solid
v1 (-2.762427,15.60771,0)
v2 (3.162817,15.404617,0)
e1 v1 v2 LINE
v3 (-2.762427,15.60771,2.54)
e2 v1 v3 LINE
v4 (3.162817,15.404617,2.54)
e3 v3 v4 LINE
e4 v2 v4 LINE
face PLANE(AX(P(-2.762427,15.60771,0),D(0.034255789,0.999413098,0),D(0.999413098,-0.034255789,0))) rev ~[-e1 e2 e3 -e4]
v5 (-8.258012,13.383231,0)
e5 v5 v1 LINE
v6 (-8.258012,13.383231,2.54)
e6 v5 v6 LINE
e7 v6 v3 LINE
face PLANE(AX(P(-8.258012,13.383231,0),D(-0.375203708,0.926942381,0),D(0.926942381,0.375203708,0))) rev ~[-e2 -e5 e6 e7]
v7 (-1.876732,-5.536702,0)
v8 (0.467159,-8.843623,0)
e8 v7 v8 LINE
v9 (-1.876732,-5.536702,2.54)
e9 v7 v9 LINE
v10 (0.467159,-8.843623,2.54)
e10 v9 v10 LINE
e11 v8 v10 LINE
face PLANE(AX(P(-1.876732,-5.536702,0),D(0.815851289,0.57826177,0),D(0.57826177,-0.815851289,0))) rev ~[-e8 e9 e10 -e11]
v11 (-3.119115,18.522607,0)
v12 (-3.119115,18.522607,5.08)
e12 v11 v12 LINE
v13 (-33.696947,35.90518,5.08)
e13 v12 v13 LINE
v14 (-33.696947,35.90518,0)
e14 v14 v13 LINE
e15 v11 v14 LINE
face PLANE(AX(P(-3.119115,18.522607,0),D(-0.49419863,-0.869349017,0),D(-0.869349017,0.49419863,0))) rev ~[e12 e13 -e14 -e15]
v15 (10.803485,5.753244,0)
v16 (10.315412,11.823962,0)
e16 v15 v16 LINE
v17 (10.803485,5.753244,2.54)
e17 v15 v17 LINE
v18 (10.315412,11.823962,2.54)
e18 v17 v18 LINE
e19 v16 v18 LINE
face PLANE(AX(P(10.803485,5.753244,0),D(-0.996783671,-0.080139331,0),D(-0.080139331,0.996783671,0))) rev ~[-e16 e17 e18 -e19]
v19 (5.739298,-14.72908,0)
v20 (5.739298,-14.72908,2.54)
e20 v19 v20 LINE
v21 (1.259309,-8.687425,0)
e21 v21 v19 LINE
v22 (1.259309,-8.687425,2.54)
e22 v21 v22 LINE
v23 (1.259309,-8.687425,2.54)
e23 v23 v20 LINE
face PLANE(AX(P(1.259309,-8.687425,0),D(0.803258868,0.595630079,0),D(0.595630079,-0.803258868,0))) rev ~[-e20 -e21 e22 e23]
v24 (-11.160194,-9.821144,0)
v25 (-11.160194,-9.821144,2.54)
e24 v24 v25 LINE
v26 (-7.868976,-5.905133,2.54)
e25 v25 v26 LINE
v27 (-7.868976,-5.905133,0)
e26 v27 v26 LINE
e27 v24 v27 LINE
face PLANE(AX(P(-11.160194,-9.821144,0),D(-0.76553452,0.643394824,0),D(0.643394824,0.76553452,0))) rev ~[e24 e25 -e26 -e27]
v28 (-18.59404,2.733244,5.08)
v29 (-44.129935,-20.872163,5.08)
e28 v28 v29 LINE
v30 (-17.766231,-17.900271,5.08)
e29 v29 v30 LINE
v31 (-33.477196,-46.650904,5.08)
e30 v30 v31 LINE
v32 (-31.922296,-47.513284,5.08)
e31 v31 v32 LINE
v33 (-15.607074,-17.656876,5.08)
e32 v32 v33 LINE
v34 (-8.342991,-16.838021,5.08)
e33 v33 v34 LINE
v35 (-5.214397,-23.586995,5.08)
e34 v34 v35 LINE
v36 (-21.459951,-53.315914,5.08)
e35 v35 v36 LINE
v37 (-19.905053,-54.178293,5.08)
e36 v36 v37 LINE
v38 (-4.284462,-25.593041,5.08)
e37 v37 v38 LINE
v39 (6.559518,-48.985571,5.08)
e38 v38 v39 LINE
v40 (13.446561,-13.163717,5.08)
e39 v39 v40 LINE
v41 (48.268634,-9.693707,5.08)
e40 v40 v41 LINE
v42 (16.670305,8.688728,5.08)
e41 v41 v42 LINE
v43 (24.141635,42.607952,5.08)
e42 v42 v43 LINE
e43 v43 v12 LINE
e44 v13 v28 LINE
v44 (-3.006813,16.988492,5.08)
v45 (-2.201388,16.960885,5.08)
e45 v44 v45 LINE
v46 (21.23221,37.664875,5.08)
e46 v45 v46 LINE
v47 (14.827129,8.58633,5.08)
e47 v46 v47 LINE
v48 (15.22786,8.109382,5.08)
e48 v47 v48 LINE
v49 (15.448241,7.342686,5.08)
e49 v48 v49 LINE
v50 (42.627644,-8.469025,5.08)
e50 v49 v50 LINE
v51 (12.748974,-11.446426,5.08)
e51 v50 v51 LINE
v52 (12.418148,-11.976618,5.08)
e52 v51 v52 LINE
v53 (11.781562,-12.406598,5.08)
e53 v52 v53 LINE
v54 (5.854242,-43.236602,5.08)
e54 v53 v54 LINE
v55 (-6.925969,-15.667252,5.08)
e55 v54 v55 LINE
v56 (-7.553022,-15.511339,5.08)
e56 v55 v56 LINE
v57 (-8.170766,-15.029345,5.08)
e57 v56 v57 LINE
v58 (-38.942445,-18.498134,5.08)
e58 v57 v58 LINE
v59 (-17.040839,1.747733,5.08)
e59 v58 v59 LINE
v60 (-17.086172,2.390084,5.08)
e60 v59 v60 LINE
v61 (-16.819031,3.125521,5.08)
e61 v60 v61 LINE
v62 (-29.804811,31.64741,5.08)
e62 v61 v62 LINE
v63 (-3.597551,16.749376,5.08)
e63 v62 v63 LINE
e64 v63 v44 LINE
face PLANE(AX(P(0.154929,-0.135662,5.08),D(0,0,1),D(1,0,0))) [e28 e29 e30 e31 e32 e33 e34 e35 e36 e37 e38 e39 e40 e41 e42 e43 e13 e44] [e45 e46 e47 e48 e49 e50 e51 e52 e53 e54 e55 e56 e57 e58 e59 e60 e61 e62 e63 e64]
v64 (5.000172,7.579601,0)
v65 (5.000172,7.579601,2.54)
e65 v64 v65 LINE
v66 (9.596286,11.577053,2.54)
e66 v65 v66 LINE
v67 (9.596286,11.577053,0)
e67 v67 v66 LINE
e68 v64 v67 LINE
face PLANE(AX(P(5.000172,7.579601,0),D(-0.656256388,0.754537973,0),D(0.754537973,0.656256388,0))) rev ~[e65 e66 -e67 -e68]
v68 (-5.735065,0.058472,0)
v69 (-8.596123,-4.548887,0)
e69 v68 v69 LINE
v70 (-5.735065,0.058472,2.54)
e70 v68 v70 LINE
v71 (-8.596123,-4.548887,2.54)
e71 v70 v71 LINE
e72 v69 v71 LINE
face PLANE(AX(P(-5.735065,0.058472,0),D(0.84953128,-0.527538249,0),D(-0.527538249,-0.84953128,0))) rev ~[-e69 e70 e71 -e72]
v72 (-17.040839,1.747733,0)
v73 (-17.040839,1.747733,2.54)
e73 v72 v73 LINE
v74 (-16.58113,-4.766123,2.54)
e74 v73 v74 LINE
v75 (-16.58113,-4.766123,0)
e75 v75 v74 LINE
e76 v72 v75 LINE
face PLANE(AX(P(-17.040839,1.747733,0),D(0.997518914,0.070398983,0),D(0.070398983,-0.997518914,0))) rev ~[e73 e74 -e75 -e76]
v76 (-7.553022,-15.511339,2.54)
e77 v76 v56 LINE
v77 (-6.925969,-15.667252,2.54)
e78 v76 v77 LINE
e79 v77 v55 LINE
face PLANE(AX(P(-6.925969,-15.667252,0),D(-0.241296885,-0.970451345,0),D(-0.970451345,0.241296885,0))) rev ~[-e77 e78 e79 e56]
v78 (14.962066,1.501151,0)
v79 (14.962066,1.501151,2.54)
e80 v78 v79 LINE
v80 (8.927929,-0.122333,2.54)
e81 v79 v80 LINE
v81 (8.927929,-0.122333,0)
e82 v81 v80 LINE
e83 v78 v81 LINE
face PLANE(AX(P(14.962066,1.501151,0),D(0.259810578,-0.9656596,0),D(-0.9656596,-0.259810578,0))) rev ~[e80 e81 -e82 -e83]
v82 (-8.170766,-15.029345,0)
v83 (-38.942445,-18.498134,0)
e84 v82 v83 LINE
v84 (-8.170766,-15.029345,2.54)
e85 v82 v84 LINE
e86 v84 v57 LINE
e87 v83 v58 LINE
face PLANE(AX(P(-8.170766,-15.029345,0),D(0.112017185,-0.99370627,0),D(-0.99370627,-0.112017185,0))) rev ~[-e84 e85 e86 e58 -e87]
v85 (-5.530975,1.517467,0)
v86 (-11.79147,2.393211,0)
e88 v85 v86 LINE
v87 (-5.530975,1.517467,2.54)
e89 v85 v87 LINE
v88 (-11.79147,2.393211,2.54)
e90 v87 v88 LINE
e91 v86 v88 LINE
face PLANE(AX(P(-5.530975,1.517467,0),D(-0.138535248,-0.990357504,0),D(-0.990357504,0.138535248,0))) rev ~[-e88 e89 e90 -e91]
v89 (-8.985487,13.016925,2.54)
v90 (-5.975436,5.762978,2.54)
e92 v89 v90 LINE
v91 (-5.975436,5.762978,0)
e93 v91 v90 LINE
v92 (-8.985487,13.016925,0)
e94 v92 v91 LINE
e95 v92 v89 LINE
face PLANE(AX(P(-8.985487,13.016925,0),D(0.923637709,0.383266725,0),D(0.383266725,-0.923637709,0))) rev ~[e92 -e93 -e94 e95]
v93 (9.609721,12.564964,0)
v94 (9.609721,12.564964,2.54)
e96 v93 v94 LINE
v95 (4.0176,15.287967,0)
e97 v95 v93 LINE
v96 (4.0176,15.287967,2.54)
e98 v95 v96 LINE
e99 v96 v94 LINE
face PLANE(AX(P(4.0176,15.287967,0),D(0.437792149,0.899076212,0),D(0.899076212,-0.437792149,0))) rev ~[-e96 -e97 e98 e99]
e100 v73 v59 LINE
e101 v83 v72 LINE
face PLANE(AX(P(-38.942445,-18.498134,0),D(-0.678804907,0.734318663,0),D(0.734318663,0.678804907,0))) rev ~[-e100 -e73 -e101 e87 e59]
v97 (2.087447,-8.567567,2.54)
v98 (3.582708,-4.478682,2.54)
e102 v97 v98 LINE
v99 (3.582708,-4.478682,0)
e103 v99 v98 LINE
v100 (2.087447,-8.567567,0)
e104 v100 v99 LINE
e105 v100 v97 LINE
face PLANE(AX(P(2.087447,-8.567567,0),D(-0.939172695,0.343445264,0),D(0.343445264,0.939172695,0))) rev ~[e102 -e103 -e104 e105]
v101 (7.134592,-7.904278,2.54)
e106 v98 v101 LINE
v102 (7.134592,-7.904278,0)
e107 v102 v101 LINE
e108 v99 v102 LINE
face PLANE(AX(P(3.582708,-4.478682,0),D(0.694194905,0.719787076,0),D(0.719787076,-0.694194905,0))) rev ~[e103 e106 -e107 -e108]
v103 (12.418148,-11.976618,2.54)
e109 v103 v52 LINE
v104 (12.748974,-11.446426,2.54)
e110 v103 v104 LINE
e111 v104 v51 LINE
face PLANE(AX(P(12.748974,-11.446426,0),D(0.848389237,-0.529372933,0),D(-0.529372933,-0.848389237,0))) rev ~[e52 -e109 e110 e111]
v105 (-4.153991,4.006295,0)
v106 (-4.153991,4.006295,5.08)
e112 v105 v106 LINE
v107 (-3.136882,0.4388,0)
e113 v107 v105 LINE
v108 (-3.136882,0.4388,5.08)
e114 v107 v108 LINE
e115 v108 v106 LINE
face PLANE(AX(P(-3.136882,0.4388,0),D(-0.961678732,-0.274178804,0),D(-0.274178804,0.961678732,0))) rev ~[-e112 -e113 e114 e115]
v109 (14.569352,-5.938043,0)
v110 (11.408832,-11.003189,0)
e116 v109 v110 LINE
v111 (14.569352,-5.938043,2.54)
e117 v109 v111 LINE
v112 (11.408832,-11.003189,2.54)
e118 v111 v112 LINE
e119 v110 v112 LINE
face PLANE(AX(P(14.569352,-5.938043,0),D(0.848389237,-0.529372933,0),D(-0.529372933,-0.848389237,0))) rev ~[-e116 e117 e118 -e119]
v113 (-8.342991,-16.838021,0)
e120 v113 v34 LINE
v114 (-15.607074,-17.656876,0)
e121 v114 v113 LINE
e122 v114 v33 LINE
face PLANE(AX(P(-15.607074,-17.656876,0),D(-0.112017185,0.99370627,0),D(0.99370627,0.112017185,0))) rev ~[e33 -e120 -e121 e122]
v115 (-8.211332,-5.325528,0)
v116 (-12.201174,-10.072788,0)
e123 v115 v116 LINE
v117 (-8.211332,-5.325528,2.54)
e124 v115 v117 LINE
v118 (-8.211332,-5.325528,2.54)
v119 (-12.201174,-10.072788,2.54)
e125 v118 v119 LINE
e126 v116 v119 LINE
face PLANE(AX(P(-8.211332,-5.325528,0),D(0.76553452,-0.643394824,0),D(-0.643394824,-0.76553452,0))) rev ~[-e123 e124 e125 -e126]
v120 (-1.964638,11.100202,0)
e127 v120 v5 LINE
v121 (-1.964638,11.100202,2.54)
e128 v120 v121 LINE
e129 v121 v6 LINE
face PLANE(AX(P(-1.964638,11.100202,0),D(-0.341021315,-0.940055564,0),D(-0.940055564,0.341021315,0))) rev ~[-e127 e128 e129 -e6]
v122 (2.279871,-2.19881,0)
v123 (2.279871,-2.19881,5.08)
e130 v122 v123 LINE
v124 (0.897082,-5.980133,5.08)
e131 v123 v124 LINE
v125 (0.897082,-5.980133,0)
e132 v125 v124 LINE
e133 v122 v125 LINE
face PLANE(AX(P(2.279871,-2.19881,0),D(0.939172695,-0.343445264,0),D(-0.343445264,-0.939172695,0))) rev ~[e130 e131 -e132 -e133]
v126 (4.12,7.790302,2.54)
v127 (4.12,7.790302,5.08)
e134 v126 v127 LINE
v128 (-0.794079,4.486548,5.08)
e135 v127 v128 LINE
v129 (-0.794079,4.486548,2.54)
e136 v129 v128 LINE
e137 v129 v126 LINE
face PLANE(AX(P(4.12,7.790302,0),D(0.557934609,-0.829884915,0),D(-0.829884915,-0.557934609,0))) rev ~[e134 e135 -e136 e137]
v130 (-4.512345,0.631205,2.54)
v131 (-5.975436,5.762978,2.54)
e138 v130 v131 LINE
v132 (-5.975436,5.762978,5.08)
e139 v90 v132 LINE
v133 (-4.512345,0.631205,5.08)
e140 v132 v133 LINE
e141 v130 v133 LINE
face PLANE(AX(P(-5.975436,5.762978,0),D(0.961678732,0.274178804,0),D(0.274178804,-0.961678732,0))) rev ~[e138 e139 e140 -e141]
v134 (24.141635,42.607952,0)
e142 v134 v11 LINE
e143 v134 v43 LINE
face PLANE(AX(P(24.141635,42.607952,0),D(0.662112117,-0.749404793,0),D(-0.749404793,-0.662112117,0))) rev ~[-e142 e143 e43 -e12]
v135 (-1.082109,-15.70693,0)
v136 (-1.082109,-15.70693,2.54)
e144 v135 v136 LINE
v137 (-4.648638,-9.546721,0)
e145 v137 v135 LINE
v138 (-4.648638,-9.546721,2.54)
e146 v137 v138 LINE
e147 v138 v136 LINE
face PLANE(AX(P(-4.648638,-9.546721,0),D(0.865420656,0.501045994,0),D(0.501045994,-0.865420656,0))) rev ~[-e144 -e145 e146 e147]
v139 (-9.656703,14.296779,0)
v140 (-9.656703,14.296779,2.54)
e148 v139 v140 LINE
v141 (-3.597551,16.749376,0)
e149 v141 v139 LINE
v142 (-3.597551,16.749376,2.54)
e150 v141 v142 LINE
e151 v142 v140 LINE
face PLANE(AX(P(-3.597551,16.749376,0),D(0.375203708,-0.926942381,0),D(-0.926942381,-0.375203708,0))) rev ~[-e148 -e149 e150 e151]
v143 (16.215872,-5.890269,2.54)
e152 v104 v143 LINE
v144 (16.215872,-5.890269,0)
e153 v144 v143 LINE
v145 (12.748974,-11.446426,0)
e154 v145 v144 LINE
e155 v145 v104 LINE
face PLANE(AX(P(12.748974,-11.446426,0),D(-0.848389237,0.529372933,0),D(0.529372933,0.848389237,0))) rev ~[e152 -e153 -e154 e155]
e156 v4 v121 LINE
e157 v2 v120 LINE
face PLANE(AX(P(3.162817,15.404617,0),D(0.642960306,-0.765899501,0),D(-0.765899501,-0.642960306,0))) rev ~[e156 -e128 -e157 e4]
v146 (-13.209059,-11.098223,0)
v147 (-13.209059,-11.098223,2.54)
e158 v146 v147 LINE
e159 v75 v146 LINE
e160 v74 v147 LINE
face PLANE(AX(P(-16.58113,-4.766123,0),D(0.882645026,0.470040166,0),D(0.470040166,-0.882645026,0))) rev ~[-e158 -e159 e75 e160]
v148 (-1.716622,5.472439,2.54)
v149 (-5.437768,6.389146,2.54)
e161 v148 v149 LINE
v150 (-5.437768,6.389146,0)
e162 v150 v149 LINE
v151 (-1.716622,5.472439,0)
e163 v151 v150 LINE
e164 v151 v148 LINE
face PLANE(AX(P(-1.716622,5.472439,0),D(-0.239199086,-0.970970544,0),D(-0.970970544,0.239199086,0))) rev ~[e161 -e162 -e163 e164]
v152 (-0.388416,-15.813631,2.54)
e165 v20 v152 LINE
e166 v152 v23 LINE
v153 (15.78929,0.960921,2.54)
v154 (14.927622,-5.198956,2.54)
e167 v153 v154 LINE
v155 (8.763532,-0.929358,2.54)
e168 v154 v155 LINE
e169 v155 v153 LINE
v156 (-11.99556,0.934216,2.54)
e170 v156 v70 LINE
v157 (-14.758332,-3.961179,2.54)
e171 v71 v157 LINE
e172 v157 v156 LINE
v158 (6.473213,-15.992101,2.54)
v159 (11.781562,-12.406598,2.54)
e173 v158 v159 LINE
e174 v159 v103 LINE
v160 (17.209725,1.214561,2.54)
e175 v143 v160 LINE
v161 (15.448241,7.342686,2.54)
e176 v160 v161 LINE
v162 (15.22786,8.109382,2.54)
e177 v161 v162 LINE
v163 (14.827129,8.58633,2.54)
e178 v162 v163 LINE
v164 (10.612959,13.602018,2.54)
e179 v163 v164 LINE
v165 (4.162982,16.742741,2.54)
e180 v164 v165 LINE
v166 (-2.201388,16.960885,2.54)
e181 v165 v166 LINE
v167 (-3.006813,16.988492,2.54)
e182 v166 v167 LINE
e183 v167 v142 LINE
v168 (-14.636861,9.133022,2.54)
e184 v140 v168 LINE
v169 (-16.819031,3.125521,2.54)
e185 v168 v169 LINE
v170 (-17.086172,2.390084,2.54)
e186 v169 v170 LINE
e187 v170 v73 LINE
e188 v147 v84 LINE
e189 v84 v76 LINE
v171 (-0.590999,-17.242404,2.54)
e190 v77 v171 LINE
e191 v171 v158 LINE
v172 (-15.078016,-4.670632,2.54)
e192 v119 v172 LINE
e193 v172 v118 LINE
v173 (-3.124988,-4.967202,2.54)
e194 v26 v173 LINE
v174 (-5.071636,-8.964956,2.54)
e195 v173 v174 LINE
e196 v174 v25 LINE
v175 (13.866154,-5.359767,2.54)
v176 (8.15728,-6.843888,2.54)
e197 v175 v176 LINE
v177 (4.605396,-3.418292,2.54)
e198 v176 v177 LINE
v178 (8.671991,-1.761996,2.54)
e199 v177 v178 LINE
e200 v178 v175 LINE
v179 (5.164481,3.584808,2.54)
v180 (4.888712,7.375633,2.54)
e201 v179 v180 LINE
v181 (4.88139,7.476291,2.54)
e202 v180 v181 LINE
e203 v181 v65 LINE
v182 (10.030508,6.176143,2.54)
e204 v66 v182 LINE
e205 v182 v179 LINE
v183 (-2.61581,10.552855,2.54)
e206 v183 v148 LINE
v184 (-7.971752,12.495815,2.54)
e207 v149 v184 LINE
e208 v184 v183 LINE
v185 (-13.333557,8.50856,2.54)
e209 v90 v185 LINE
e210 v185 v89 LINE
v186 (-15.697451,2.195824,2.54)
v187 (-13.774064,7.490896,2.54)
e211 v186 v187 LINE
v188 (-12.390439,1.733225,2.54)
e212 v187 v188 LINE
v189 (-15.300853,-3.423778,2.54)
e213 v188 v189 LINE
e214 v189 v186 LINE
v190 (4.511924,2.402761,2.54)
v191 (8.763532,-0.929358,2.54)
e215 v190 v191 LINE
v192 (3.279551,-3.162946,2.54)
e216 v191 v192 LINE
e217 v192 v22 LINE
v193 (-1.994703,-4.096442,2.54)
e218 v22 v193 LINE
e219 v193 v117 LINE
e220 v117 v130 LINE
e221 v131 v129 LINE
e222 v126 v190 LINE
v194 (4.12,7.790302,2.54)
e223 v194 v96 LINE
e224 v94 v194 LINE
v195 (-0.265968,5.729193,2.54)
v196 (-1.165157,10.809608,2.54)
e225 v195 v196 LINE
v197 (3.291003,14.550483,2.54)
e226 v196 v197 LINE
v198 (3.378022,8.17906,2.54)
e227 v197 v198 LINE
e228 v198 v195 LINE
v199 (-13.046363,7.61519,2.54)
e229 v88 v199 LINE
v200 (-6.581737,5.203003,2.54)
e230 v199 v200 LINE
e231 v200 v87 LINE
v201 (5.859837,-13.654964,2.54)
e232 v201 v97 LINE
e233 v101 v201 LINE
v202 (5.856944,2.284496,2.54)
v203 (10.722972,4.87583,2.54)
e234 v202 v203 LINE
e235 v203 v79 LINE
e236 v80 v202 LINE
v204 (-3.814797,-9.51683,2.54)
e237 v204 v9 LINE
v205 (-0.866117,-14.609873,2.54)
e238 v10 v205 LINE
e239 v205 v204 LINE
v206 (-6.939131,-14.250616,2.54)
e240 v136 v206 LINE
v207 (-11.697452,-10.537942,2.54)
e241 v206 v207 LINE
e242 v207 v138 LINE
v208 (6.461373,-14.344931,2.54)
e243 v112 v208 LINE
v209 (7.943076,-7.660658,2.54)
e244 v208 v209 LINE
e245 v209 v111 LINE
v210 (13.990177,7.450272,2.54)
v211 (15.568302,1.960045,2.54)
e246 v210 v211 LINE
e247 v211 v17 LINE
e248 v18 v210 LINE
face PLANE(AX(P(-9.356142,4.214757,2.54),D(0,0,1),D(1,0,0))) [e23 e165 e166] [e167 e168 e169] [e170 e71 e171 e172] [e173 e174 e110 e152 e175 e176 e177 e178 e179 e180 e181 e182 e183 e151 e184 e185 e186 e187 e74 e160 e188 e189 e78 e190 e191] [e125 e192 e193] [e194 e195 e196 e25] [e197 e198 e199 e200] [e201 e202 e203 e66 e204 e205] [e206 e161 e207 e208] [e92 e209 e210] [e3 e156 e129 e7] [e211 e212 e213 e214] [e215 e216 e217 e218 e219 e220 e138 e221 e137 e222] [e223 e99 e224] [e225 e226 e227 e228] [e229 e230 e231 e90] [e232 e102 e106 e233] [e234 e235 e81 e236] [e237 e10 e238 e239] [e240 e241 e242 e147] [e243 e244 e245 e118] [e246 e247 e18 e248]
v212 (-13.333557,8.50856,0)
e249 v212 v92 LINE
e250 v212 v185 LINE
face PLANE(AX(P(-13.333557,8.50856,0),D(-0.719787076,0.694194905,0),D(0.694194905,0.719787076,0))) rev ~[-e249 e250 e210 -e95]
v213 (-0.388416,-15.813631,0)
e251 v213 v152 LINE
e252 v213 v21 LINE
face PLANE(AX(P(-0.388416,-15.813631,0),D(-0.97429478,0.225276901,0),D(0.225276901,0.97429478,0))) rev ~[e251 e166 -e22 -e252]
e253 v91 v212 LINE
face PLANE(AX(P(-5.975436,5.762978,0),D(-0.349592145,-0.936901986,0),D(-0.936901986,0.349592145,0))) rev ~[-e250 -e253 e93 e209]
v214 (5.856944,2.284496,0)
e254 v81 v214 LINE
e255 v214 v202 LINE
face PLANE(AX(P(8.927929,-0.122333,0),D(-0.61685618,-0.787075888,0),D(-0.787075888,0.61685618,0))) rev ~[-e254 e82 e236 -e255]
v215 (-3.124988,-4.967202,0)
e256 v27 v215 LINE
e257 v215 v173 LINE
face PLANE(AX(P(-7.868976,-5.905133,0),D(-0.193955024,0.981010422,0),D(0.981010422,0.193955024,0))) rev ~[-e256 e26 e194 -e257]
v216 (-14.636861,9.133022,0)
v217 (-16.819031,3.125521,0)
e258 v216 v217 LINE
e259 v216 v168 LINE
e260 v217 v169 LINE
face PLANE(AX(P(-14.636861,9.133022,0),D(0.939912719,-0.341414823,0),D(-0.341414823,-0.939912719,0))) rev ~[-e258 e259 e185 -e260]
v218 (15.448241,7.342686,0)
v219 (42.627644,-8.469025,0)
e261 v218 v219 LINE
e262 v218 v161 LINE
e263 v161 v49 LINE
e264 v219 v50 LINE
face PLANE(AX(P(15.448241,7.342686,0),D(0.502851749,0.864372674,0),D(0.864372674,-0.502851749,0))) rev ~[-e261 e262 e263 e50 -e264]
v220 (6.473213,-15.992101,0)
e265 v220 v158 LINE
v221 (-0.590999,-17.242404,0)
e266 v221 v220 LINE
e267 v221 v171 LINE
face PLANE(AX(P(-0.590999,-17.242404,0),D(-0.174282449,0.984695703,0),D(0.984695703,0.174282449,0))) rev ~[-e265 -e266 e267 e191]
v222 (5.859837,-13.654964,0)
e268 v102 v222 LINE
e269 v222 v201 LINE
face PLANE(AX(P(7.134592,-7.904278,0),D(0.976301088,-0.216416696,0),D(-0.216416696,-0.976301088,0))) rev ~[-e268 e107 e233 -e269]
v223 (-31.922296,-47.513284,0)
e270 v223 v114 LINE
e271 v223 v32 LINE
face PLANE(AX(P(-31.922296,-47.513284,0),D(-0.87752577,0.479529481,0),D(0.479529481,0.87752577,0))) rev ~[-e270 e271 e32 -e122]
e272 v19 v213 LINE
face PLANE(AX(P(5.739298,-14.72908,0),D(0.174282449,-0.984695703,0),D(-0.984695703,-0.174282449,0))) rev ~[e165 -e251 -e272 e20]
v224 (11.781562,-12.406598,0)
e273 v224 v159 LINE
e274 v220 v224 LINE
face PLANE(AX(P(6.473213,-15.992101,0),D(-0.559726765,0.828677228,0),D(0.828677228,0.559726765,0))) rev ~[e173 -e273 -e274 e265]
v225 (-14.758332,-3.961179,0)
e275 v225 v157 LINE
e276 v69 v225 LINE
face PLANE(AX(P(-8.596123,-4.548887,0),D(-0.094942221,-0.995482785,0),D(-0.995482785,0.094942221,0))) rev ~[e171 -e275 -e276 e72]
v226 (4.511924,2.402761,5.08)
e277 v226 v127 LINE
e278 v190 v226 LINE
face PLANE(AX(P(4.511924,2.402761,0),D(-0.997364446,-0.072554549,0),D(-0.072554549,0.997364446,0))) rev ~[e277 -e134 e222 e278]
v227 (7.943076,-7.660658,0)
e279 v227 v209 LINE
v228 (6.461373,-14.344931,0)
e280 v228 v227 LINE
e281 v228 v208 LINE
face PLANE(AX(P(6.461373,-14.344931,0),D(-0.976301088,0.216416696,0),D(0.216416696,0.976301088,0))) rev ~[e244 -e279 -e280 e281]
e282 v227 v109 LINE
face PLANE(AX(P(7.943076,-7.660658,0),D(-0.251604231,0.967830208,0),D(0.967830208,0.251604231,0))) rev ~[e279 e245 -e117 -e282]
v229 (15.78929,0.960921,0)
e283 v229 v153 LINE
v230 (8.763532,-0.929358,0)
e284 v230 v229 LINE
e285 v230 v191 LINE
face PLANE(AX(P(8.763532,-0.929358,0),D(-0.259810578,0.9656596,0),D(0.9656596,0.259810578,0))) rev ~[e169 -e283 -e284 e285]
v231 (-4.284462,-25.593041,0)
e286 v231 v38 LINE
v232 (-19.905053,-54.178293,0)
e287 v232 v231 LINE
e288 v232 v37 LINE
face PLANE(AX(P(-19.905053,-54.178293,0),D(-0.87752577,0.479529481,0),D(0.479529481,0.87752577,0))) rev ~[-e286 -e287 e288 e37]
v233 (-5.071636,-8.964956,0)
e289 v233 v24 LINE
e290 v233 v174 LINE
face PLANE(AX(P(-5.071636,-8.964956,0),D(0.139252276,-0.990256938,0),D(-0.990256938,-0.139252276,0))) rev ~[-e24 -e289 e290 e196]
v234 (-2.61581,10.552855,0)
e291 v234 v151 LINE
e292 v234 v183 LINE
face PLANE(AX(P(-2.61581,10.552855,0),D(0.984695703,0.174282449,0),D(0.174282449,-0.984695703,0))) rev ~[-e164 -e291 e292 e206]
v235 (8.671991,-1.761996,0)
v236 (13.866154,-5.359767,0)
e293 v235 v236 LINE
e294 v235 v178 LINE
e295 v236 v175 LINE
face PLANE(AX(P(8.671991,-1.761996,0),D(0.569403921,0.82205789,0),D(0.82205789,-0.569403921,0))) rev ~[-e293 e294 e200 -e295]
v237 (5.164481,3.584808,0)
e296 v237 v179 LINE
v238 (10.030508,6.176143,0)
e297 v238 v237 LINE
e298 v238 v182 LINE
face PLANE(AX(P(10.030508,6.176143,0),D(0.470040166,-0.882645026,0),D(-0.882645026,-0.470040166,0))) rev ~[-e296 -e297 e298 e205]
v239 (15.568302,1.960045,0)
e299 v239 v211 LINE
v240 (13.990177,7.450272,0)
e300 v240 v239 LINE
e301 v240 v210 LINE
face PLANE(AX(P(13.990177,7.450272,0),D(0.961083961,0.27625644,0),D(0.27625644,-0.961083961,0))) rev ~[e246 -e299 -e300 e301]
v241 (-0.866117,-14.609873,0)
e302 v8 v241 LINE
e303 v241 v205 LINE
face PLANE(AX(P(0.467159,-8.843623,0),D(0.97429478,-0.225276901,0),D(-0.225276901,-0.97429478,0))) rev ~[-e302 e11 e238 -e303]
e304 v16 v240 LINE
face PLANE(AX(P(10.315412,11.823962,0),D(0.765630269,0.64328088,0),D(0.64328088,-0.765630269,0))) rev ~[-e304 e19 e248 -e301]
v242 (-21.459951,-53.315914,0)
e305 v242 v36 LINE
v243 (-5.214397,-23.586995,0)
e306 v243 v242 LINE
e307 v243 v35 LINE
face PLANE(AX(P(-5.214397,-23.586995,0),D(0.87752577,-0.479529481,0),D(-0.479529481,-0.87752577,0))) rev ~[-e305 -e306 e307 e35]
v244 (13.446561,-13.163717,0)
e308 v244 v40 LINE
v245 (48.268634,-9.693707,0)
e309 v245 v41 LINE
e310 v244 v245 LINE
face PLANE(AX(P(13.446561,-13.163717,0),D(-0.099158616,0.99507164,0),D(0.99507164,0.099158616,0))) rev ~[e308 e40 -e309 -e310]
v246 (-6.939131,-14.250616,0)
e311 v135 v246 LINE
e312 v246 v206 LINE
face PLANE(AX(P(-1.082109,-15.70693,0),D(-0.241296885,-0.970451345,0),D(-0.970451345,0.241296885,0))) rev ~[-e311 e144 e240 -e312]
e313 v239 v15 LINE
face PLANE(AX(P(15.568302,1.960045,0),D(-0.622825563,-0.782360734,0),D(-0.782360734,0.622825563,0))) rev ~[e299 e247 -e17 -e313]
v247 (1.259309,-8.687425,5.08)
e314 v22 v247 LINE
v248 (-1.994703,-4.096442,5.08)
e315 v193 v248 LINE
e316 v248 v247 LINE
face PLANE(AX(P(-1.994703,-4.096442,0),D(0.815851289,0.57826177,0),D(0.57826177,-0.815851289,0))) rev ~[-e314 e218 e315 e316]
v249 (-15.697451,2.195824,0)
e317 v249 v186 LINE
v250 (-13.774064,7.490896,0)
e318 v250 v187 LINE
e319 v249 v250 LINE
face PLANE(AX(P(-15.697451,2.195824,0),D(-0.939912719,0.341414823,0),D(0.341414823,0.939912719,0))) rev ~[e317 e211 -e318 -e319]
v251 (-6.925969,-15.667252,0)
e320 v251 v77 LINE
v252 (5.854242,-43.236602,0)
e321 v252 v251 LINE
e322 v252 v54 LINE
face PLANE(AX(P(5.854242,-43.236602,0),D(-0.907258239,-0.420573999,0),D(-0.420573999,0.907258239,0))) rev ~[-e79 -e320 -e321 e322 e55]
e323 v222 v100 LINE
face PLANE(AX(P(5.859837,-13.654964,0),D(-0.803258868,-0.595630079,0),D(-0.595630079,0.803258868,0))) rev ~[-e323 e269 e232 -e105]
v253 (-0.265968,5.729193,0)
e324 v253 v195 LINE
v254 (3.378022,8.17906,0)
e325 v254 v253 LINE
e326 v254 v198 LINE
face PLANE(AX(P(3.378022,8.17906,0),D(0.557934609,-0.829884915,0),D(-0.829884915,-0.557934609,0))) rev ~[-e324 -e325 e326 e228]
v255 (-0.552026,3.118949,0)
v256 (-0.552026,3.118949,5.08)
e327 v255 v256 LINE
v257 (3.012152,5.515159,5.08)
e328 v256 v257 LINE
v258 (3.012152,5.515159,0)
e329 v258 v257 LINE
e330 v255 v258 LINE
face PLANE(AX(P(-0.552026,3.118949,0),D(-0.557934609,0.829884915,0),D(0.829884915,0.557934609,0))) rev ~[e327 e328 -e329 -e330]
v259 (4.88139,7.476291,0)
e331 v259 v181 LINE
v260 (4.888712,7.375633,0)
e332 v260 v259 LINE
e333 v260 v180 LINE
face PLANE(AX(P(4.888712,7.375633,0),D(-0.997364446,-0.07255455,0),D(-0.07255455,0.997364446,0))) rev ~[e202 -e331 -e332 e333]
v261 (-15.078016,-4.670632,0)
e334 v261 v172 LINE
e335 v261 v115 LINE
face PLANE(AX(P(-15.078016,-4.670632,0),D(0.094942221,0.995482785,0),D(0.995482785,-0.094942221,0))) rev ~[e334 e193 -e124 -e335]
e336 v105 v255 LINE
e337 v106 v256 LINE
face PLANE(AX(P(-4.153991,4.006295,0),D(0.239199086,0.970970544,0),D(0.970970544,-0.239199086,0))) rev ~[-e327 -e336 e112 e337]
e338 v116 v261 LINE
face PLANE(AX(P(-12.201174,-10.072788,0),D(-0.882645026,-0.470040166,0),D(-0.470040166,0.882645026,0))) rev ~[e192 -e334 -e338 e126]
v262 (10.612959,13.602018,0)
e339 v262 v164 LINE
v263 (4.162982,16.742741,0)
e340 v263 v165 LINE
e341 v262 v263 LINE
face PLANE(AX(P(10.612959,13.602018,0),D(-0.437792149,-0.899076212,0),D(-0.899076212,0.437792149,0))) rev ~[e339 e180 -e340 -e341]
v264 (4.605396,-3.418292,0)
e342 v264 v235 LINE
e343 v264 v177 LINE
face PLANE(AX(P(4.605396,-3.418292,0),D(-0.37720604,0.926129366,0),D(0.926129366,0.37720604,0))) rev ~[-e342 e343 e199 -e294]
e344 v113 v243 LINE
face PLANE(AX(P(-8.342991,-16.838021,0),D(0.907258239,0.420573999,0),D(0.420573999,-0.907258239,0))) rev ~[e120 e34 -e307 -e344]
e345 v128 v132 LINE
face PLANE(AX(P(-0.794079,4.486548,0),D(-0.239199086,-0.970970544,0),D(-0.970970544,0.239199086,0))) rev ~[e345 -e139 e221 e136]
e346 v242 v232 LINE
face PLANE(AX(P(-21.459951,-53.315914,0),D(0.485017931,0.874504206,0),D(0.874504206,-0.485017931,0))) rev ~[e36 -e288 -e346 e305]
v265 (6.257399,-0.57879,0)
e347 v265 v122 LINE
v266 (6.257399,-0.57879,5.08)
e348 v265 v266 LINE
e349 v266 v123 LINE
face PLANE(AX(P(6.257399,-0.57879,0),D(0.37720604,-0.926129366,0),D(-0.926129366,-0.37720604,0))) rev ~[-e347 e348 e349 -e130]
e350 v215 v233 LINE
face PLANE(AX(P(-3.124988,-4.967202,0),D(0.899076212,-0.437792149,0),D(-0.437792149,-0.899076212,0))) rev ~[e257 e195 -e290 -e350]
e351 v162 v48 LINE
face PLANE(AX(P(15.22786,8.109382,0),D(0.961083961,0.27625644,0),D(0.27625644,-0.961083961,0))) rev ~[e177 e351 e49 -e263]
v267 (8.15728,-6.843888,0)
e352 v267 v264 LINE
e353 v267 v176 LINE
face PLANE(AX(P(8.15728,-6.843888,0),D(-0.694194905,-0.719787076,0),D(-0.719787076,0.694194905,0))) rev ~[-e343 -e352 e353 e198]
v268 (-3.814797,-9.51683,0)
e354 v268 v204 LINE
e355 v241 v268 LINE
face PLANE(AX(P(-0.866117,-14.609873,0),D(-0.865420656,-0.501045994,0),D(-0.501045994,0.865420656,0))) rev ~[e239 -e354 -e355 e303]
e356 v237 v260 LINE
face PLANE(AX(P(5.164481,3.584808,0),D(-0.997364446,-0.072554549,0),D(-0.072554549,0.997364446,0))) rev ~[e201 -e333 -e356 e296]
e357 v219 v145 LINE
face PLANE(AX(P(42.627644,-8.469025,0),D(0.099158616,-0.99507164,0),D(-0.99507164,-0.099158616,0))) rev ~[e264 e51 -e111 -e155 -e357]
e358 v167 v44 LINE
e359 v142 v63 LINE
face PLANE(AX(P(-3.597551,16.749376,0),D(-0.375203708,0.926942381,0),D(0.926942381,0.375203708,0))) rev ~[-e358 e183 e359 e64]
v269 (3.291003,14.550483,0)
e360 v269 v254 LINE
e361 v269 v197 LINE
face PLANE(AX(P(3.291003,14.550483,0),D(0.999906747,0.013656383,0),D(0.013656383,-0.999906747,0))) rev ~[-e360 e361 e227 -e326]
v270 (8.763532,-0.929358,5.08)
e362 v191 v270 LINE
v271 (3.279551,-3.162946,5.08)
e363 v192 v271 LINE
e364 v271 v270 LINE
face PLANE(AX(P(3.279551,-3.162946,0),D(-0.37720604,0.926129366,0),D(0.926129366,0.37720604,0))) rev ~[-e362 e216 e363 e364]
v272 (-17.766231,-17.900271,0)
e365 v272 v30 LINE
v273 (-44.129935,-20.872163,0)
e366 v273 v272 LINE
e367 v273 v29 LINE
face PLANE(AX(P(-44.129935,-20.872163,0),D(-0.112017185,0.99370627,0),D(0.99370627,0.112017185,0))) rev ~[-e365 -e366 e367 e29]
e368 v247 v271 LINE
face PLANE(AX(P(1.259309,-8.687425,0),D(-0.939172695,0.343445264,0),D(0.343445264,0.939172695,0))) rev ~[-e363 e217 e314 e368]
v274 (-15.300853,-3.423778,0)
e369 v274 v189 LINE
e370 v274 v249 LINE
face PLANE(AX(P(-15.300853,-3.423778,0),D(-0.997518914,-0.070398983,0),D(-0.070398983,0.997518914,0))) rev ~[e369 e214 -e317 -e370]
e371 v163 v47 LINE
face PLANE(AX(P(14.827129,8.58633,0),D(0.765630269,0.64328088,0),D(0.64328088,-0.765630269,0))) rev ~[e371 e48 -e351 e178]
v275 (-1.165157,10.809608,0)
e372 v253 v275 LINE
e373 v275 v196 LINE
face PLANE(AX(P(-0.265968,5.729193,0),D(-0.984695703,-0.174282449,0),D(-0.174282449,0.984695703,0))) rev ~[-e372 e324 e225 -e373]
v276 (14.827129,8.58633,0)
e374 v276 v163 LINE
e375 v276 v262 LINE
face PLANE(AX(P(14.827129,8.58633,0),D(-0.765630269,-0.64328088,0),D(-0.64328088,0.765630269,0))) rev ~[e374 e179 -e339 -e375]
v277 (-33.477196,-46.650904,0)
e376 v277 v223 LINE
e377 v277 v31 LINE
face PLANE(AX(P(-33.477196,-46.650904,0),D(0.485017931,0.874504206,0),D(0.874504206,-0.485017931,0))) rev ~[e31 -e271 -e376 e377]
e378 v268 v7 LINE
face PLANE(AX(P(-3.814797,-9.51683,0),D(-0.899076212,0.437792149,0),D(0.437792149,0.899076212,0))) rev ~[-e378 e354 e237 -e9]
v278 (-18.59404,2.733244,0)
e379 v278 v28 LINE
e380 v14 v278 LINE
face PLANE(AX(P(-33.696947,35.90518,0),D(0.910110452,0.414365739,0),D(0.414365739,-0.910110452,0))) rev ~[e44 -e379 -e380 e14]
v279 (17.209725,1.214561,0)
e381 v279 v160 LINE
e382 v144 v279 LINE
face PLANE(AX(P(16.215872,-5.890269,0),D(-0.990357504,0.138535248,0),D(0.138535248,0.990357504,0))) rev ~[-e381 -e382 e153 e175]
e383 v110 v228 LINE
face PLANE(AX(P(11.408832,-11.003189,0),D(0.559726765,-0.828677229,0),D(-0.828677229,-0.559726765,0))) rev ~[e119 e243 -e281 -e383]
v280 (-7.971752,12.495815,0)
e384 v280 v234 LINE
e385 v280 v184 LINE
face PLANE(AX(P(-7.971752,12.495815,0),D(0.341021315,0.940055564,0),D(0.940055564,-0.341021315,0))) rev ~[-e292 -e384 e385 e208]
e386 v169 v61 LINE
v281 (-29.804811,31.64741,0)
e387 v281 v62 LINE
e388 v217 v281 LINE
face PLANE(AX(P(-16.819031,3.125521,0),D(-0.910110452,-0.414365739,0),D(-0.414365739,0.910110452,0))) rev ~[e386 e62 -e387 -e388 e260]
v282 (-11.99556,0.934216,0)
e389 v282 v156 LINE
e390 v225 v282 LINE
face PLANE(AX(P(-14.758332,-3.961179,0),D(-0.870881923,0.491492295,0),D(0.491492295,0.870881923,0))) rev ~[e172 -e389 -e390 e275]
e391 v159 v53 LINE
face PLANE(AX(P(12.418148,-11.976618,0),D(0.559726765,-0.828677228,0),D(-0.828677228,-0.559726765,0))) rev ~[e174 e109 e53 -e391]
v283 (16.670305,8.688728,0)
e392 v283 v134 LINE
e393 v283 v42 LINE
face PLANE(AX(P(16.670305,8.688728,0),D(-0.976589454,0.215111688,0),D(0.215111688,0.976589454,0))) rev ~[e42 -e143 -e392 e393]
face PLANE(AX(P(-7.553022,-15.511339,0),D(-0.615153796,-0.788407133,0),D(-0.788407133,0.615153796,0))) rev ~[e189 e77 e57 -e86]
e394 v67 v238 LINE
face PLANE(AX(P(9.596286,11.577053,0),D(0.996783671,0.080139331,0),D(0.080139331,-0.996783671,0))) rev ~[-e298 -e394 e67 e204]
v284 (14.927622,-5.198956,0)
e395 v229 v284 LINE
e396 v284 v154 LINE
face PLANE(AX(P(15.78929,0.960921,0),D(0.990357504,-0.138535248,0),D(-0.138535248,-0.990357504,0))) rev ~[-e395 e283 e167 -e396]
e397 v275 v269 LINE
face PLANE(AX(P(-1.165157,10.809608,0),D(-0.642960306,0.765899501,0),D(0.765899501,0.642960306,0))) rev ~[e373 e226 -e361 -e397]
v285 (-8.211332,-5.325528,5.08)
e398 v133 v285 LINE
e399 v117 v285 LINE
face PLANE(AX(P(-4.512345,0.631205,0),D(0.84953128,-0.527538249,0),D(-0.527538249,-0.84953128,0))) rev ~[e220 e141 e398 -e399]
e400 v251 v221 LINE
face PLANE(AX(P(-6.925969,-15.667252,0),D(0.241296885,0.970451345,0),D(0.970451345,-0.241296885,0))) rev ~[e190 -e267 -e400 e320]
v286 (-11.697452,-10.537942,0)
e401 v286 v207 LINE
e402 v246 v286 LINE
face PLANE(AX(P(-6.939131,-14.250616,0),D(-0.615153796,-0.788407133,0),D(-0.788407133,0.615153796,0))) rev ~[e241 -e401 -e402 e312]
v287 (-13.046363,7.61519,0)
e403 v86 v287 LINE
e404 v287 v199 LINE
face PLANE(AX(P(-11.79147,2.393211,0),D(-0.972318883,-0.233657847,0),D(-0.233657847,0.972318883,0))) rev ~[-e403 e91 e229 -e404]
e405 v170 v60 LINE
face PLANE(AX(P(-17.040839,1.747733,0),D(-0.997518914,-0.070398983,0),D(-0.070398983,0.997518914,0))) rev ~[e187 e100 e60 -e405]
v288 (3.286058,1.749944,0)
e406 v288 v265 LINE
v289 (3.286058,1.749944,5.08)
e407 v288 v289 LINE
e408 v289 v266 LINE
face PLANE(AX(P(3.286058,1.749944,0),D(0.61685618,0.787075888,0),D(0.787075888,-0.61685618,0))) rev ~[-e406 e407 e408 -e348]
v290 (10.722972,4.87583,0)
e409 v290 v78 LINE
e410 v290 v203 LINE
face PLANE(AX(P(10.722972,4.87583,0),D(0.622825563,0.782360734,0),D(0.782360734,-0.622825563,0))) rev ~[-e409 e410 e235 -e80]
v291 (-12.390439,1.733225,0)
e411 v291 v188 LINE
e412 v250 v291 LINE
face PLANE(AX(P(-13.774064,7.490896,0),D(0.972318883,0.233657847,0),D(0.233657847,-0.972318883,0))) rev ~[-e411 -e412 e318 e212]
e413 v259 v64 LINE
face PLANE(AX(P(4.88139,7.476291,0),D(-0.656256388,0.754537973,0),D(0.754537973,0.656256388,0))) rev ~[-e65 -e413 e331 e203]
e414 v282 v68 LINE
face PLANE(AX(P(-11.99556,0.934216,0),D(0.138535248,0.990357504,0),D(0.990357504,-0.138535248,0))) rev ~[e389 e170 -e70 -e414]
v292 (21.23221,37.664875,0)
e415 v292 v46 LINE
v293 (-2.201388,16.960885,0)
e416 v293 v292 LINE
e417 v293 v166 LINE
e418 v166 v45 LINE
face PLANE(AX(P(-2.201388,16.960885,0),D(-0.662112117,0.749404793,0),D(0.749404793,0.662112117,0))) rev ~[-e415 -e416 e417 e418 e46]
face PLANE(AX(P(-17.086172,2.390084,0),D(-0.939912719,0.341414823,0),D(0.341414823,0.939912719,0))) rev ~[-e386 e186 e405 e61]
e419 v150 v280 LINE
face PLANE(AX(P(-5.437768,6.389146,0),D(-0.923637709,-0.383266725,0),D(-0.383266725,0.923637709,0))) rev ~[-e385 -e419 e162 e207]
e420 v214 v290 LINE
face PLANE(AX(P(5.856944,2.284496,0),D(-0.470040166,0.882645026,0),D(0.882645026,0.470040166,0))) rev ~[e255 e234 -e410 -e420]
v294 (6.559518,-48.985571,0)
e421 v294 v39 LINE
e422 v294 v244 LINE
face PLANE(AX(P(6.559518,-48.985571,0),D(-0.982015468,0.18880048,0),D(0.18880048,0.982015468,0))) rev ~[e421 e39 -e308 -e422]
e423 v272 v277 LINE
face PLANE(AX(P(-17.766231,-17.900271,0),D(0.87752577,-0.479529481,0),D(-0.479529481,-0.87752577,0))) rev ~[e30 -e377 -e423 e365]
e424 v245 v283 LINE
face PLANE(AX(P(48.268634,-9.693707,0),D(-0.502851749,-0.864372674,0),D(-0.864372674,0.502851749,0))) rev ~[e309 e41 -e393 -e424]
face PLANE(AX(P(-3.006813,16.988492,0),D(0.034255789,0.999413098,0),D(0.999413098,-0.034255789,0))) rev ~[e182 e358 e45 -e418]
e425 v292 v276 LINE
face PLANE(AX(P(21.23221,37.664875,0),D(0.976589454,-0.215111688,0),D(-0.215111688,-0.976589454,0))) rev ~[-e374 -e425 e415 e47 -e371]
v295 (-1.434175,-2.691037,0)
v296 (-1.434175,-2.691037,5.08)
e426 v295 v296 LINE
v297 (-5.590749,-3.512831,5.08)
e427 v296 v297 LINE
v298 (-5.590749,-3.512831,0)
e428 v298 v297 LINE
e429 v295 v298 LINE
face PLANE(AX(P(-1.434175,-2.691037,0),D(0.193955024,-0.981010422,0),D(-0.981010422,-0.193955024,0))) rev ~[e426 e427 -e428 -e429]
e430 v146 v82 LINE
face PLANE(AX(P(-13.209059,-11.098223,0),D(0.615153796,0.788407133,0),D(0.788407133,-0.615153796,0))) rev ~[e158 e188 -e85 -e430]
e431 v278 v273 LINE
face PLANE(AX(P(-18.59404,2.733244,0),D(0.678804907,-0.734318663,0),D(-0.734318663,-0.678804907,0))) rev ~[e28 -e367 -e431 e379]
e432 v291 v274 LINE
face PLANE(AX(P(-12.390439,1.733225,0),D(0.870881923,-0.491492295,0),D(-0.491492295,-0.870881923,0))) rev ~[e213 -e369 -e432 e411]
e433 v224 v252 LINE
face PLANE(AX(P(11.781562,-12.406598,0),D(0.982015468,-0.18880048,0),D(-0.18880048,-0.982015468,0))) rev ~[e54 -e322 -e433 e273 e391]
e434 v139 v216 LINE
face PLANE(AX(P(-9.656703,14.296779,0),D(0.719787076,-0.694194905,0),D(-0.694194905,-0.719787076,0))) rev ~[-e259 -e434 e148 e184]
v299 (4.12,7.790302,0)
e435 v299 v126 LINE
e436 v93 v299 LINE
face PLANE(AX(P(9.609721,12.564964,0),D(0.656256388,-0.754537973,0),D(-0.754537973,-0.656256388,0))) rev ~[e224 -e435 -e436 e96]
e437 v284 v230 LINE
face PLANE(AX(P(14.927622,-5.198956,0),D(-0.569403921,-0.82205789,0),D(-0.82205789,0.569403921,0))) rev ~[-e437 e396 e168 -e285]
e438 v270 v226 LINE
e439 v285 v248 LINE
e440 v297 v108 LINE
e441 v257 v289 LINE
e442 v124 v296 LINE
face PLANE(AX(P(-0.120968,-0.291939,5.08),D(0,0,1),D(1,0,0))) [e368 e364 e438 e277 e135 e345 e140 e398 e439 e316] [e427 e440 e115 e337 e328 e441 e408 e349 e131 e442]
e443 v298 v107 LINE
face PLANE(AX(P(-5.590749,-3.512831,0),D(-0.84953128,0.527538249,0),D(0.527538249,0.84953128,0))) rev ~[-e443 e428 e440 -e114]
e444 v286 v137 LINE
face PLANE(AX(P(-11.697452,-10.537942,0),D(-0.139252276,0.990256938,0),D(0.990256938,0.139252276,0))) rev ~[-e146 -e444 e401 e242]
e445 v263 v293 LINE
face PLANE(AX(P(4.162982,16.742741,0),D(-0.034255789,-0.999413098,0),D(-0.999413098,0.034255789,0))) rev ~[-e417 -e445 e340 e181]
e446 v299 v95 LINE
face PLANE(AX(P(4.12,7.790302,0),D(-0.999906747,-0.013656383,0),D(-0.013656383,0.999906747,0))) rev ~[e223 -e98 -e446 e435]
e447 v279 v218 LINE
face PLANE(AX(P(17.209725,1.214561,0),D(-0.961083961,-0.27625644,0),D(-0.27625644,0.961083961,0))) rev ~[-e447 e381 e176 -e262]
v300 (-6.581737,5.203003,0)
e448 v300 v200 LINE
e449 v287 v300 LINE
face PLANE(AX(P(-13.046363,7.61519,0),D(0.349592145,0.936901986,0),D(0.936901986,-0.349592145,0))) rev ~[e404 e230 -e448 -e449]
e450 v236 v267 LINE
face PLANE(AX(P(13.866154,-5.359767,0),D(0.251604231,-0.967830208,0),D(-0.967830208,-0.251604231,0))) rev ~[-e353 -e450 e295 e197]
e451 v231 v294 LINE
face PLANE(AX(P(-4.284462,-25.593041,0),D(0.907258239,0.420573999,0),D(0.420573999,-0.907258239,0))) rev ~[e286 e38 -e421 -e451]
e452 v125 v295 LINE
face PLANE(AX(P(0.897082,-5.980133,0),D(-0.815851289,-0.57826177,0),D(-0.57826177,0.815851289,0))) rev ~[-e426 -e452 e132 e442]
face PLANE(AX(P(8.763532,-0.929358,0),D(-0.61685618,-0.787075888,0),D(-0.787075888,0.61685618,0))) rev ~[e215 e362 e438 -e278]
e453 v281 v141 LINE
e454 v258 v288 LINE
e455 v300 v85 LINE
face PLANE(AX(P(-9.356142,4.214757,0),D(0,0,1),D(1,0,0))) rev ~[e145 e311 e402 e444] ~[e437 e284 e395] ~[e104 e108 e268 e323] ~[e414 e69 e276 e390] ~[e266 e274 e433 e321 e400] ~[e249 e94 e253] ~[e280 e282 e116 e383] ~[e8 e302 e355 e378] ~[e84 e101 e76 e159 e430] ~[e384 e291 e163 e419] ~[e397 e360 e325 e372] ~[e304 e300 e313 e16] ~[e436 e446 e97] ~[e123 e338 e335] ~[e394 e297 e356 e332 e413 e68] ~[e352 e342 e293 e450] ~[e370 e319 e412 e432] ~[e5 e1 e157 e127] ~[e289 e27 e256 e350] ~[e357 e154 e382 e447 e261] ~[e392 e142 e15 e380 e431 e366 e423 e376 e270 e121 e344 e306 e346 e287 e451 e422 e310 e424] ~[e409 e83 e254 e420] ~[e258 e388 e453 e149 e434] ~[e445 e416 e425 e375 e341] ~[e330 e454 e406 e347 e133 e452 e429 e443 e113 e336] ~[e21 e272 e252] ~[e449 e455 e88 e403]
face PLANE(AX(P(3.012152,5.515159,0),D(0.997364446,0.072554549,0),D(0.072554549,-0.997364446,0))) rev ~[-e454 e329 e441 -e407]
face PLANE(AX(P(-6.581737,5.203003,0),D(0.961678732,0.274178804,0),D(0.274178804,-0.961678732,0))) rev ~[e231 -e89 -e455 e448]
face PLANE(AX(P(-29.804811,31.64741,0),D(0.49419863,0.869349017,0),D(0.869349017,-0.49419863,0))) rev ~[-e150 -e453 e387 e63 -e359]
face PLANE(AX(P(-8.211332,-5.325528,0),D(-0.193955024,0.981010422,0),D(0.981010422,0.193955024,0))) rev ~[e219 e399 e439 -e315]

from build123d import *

# Parameters (mm, degrees)
F1_DEPTH = 2.54
F2_DEPTH = 5.08
F3_DEPTH = 2.54


with BuildPart() as f1:
    # F0 (on Top) → F1 (new body)
    with BuildSketch(Plane.XY):
        Polygon((4.1629817264, 16.7427408623), (-2.2013881197, 16.9608854028), (-3.0068131679, 16.9884920758), (-3.5975513827, 16.7493756287), (-9.6567027493, 14.2967786738), (-14.636860697, 9.1330223569), (-16.819031361, 3.1255211535), (-17.0861724585, 2.3900835037), (-17.0408391317, 1.7477325928), (-16.5811297789, -4.7661225006), (-13.2090591257, -11.0982226257), (-8.1707658783, -15.0293453717), (-7.5530221491, -15.5113392346), (-6.9259689778, -15.6672522309), (-0.5909990259, -17.2424043737), (6.4732131979, -15.9921011543), (11.7815616344, -12.4065981462), (12.4181480525, -11.9766183616), (12.7489744416, -11.4464258818), (16.2158722935, -5.8902694501), (17.2097248984, 1.2145605608), (15.4482409163, 7.3426855737), (15.2278597229, 8.1093820168), (14.8271287482, 8.5863303821), (10.6129592606, 13.6020176507), align=None)
        Polygon((-8.87183017, 13.1347723613), (-8.2580116546, 13.3832311521), (-2.762426935, 15.6077100491), (3.1628166018, 15.4046169605), (3.8246250129, 15.3819328779), (4.0175995312, 15.2879667291), (9.6097206141, 12.5649643009), (9.7503645505, 12.4964797716), (10.3154122974, 11.8239622569), (13.990177478, 7.4502717858), (15.5683023366, 1.9600450691), (15.8109616228, 1.1158441247), (15.7892903314, 0.9609209091), (14.9276215775, -5.1989563128), (14.8978868649, -5.4115231227), (14.5693523604, -5.9380425585), (11.4088321251, -11.0031888601), (6.461372617, -14.3449308653), (5.9470866648, -14.6923032827), (5.7392984293, -14.7290799665), (-0.3884161265, -15.8136313636), (-0.5429641074, -15.8409849923), (-1.0821087258, -15.7069299285), (-6.9391314528, -14.250616486), (-11.6974519194, -10.5379421932), (-12.1354599299, -10.1961869264), (-12.2011743525, -10.0727878799), (-15.0780164622, -4.6706317106), (-15.233457138, -4.3787440178), (-15.300853021, -3.4237775529), (-15.6974512153, 2.1958235111), (-13.774064022, 7.4908955551), (-13.4472133706, 8.3907132065), (-13.3335565047, 8.5085601433), (-8.9854870359, 13.0169254245), align=None, mode=Mode.SUBTRACT)
    extrude(amount=F1_DEPTH)

    # F0 (on Top) → F2 (join)
    with BuildSketch(Plane.XY):
        Polygon((-33.6969470542, 35.9051802405), (-18.5940397475, 2.7332442428), (-44.1299353493, -20.8721632227), (-17.7662312147, -17.9002710145), (-15.6070743083, -17.6568764765), (-8.3429911406, -16.8380206717), (-5.2143965318, -23.5869952705), (-4.2844619667, -25.5930412891), (6.5595177125, -48.9855713404), (13.446561196, -13.1637173716), (48.2686344411, -9.6937073203), (16.6703053103, 8.6887283333), (24.1416345765, 42.6079515874), (-3.119114862, 18.5226071992), align=None)
        Polygon((-3.0068131679, 16.9884920758), (-2.2013881197, 16.9608854028), (21.2322100997, 37.6648753881), (14.8271287482, 8.5863303821), (15.2278597229, 8.1093820168), (15.4482409163, 7.3426855737), (42.6276437938, -8.4690246731), (12.7489744416, -11.4464258818), (12.4181480525, -11.9766183616), (11.7815616344, -12.4065981462), (5.8542420156, -43.2366020978), (-6.9259689778, -15.6672522309), (-7.5530221491, -15.5113392346), (-8.1707658783, -15.0293453717), (-38.9424450696, -18.498133868), (-17.0408391317, 1.7477325928), (-17.0861724585, 2.3900835037), (-16.819031361, 3.1255211535), (-29.8048108816, 31.6474102437), (-3.5975513827, 16.7493756287), align=None, mode=Mode.SUBTRACT)
        Polygon((-15.6070743083, -17.6568764765), (-17.7662312147, -17.9002710145), (-33.477195848, -46.6509044953), (-31.9222960033, -47.5132837729), align=None)
        Polygon((-4.2844619667, -25.5930412891), (-5.2143965318, -23.5869952705), (-21.4599514133, -53.315914213), (-19.9050526355, -54.1782928989), align=None)
    extrude(amount=F2_DEPTH)



with BuildPart() as f2:
    # F0 (on Top) → F2, piece 2 (new body)
    with BuildSketch(Plane.XY):
        Polygon((4.1200000644, 7.7903017796), (-0.7940794801, 4.4865484492), (-5.9754360801, 5.7629782777), (-4.5123451925, 0.6312052529), (-8.2113317605, -5.3255283132), (-1.9947032178, -4.096442149), (1.2593087084, -8.6874249228), (3.2795508064, -3.1629457339), (8.763532132, -0.9293583373), (4.5119235723, 2.4027612904), align=None)
        Polygon((-4.1539905478, 4.0062945987), (-0.5520264313, 3.1189489102), (3.0121522283, 5.5151590265), (3.2860576248, 1.749943662), (6.2573989827, -0.578790209), (2.2798709363, -2.1988096778), (0.897081895, -5.9801333565), (-1.4341748227, -2.6910367967), (-5.5907486439, -3.5128306902), (-3.1368822337, 0.4387998832), align=None, mode=Mode.SUBTRACT)
    extrude(amount=F2_DEPTH)


with BuildPart() as f1_1:
    add(f1.part)

    add(f2.part)  # F3 merges F2
    # F0 (on Top) → F3 (join)
    with BuildSketch(Plane.XY):
        Polygon((-4.5123451925, 0.6312052529), (-5.9754360801, 5.7629782777), (-13.3335565047, 8.5085601433), (-13.4472133706, 8.3907132065), (-13.774064022, 7.4908955551), (-12.3904388558, 1.7332251319), align=None)
        Polygon((-11.7914695166, 2.3932106743), (-13.0463627003, 7.6151895343), (-6.5817369362, 5.2030029646), (-5.5309745762, 1.5174671034), align=None, mode=Mode.SUBTRACT)
        Polygon((-8.2113317605, -5.3255283132), (-4.5123451925, 0.6312052529), (-12.3904388558, 1.7332251319), (-15.300853021, -3.4237775529), (-15.233457138, -4.3787440178), (-15.0780164622, -4.6706317106), align=None)
        Polygon((-14.7583322732, -3.961178532), (-11.9955596687, 0.9342160512), (-5.7350646244, 0.0584724657), (-8.5961228333, -4.5488871865), align=None, mode=Mode.SUBTRACT)
        Polygon((-0.7940794801, 4.4865484492), (-1.964637715, 11.1002015721), (-8.2580116546, 13.3832311521), (-8.87183017, 13.1347723613), (-8.9854870359, 13.0169254245), (-5.9754360801, 5.7629782777), align=None)
        Polygon((-5.4377678462, 6.3891455642), (-7.9717519008, 12.4958150767), (-2.6158103292, 10.5528552027), (-1.7166215483, 5.4724392849), align=None, mode=Mode.SUBTRACT)
        Polygon((3.1628166018, 15.4046169605), (-1.964637715, 11.1002015721), (-0.7940794801, 4.4865484492), (4.1200000644, 7.7903017796), (4.0175995312, 15.2879667291), (3.8246250129, 15.3819328779), align=None)
        Polygon((-0.2659681626, 5.7291925355), (-1.1651568481, 10.8096079145), (3.2910031409, 14.5504825172), (3.3780218404, 8.1790601046), align=None, mode=Mode.SUBTRACT)
        Polygon((9.6097206141, 12.5649643009), (4.1200000644, 7.7903017796), (4.5119235723, 2.4027612904), (10.8034854124, 5.7532438515), (10.3154122974, 11.8239622569), (9.7503645505, 12.4964797716), align=None)
        Polygon((4.8887121728, 7.3756327333), (4.881389673, 7.4762908036), (5.0001721085, 7.5796013524), (9.5962864589, 11.577053451), (10.0305084156, 6.1761429256), (5.1644805282, 3.5848083742), align=None, mode=Mode.SUBTRACT)
        Polygon((10.8034854124, 5.7532438515), (4.5119235723, 2.4027612904), (8.763532132, -0.9293583373), (15.7892903314, 0.9609209091), (15.8109616228, 1.1158441247), (15.5683023366, 1.9600450691), align=None)
        Polygon((5.8569437001, 2.2844957212), (10.7229715874, 4.8758302725), (14.9620662315, 1.5011510565), (8.9279294384, -0.1223325912), align=None, mode=Mode.SUBTRACT)
        Polygon((14.9276215775, -5.1989563128), (8.763532132, -0.9293583373), (3.2795508064, -3.1629457339), (7.9430756148, -7.6606580026), (14.5693523604, -5.9380425585), (14.8978868649, -5.4115231227), align=None)
        Polygon((8.1572798635, -6.8438879856), (4.6053955772, -3.418291642), (8.6719909478, -1.7619956724), (13.8661536119, -5.3597673452), align=None, mode=Mode.SUBTRACT)
        Polygon((7.9430756148, -7.6606580026), (3.2795508064, -3.1629457339), (1.2593087084, -8.6874249228), (5.7392984293, -14.7290799665), (5.9470866648, -14.6923032827), (6.461372617, -14.3449308653), align=None)
        Polygon((2.0874466636, -8.5675672358), (3.5827076434, -4.4786819617), (7.1345919298, -7.9042783053), (5.859837335, -13.654963535), align=None, mode=Mode.SUBTRACT)
        Polygon((1.2593087084, -8.6874249228), (-1.9947032178, -4.096442149), (-4.6486377456, -9.5467212497), (-1.0821087258, -15.7069299285), (-0.5429641074, -15.8409849923), (-0.3884161265, -15.8136313636), align=None)
        Polygon((-0.8661165856, -14.6098730783), (-3.8147970804, -9.5168296532), (-1.8767315973, -5.5367021526), (0.4671585391, -8.8436228043), align=None, mode=Mode.SUBTRACT)
        Polygon((-1.9947032178, -4.096442149), (-8.2113317605, -5.3255283132), (-12.2011743525, -10.0727878799), (-12.1354599299, -10.1961869264), (-11.6974519194, -10.5379421932), (-4.6486377456, -9.5467212497), align=None)
        Polygon((-11.1601935886, -9.8211437548), (-7.8689757469, -5.9051332795), (-3.1249878704, -4.9672020806), (-5.0716364955, -8.9649564363), align=None, mode=Mode.SUBTRACT)
    extrude(amount=F3_DEPTH)


solid = f1_1.part
